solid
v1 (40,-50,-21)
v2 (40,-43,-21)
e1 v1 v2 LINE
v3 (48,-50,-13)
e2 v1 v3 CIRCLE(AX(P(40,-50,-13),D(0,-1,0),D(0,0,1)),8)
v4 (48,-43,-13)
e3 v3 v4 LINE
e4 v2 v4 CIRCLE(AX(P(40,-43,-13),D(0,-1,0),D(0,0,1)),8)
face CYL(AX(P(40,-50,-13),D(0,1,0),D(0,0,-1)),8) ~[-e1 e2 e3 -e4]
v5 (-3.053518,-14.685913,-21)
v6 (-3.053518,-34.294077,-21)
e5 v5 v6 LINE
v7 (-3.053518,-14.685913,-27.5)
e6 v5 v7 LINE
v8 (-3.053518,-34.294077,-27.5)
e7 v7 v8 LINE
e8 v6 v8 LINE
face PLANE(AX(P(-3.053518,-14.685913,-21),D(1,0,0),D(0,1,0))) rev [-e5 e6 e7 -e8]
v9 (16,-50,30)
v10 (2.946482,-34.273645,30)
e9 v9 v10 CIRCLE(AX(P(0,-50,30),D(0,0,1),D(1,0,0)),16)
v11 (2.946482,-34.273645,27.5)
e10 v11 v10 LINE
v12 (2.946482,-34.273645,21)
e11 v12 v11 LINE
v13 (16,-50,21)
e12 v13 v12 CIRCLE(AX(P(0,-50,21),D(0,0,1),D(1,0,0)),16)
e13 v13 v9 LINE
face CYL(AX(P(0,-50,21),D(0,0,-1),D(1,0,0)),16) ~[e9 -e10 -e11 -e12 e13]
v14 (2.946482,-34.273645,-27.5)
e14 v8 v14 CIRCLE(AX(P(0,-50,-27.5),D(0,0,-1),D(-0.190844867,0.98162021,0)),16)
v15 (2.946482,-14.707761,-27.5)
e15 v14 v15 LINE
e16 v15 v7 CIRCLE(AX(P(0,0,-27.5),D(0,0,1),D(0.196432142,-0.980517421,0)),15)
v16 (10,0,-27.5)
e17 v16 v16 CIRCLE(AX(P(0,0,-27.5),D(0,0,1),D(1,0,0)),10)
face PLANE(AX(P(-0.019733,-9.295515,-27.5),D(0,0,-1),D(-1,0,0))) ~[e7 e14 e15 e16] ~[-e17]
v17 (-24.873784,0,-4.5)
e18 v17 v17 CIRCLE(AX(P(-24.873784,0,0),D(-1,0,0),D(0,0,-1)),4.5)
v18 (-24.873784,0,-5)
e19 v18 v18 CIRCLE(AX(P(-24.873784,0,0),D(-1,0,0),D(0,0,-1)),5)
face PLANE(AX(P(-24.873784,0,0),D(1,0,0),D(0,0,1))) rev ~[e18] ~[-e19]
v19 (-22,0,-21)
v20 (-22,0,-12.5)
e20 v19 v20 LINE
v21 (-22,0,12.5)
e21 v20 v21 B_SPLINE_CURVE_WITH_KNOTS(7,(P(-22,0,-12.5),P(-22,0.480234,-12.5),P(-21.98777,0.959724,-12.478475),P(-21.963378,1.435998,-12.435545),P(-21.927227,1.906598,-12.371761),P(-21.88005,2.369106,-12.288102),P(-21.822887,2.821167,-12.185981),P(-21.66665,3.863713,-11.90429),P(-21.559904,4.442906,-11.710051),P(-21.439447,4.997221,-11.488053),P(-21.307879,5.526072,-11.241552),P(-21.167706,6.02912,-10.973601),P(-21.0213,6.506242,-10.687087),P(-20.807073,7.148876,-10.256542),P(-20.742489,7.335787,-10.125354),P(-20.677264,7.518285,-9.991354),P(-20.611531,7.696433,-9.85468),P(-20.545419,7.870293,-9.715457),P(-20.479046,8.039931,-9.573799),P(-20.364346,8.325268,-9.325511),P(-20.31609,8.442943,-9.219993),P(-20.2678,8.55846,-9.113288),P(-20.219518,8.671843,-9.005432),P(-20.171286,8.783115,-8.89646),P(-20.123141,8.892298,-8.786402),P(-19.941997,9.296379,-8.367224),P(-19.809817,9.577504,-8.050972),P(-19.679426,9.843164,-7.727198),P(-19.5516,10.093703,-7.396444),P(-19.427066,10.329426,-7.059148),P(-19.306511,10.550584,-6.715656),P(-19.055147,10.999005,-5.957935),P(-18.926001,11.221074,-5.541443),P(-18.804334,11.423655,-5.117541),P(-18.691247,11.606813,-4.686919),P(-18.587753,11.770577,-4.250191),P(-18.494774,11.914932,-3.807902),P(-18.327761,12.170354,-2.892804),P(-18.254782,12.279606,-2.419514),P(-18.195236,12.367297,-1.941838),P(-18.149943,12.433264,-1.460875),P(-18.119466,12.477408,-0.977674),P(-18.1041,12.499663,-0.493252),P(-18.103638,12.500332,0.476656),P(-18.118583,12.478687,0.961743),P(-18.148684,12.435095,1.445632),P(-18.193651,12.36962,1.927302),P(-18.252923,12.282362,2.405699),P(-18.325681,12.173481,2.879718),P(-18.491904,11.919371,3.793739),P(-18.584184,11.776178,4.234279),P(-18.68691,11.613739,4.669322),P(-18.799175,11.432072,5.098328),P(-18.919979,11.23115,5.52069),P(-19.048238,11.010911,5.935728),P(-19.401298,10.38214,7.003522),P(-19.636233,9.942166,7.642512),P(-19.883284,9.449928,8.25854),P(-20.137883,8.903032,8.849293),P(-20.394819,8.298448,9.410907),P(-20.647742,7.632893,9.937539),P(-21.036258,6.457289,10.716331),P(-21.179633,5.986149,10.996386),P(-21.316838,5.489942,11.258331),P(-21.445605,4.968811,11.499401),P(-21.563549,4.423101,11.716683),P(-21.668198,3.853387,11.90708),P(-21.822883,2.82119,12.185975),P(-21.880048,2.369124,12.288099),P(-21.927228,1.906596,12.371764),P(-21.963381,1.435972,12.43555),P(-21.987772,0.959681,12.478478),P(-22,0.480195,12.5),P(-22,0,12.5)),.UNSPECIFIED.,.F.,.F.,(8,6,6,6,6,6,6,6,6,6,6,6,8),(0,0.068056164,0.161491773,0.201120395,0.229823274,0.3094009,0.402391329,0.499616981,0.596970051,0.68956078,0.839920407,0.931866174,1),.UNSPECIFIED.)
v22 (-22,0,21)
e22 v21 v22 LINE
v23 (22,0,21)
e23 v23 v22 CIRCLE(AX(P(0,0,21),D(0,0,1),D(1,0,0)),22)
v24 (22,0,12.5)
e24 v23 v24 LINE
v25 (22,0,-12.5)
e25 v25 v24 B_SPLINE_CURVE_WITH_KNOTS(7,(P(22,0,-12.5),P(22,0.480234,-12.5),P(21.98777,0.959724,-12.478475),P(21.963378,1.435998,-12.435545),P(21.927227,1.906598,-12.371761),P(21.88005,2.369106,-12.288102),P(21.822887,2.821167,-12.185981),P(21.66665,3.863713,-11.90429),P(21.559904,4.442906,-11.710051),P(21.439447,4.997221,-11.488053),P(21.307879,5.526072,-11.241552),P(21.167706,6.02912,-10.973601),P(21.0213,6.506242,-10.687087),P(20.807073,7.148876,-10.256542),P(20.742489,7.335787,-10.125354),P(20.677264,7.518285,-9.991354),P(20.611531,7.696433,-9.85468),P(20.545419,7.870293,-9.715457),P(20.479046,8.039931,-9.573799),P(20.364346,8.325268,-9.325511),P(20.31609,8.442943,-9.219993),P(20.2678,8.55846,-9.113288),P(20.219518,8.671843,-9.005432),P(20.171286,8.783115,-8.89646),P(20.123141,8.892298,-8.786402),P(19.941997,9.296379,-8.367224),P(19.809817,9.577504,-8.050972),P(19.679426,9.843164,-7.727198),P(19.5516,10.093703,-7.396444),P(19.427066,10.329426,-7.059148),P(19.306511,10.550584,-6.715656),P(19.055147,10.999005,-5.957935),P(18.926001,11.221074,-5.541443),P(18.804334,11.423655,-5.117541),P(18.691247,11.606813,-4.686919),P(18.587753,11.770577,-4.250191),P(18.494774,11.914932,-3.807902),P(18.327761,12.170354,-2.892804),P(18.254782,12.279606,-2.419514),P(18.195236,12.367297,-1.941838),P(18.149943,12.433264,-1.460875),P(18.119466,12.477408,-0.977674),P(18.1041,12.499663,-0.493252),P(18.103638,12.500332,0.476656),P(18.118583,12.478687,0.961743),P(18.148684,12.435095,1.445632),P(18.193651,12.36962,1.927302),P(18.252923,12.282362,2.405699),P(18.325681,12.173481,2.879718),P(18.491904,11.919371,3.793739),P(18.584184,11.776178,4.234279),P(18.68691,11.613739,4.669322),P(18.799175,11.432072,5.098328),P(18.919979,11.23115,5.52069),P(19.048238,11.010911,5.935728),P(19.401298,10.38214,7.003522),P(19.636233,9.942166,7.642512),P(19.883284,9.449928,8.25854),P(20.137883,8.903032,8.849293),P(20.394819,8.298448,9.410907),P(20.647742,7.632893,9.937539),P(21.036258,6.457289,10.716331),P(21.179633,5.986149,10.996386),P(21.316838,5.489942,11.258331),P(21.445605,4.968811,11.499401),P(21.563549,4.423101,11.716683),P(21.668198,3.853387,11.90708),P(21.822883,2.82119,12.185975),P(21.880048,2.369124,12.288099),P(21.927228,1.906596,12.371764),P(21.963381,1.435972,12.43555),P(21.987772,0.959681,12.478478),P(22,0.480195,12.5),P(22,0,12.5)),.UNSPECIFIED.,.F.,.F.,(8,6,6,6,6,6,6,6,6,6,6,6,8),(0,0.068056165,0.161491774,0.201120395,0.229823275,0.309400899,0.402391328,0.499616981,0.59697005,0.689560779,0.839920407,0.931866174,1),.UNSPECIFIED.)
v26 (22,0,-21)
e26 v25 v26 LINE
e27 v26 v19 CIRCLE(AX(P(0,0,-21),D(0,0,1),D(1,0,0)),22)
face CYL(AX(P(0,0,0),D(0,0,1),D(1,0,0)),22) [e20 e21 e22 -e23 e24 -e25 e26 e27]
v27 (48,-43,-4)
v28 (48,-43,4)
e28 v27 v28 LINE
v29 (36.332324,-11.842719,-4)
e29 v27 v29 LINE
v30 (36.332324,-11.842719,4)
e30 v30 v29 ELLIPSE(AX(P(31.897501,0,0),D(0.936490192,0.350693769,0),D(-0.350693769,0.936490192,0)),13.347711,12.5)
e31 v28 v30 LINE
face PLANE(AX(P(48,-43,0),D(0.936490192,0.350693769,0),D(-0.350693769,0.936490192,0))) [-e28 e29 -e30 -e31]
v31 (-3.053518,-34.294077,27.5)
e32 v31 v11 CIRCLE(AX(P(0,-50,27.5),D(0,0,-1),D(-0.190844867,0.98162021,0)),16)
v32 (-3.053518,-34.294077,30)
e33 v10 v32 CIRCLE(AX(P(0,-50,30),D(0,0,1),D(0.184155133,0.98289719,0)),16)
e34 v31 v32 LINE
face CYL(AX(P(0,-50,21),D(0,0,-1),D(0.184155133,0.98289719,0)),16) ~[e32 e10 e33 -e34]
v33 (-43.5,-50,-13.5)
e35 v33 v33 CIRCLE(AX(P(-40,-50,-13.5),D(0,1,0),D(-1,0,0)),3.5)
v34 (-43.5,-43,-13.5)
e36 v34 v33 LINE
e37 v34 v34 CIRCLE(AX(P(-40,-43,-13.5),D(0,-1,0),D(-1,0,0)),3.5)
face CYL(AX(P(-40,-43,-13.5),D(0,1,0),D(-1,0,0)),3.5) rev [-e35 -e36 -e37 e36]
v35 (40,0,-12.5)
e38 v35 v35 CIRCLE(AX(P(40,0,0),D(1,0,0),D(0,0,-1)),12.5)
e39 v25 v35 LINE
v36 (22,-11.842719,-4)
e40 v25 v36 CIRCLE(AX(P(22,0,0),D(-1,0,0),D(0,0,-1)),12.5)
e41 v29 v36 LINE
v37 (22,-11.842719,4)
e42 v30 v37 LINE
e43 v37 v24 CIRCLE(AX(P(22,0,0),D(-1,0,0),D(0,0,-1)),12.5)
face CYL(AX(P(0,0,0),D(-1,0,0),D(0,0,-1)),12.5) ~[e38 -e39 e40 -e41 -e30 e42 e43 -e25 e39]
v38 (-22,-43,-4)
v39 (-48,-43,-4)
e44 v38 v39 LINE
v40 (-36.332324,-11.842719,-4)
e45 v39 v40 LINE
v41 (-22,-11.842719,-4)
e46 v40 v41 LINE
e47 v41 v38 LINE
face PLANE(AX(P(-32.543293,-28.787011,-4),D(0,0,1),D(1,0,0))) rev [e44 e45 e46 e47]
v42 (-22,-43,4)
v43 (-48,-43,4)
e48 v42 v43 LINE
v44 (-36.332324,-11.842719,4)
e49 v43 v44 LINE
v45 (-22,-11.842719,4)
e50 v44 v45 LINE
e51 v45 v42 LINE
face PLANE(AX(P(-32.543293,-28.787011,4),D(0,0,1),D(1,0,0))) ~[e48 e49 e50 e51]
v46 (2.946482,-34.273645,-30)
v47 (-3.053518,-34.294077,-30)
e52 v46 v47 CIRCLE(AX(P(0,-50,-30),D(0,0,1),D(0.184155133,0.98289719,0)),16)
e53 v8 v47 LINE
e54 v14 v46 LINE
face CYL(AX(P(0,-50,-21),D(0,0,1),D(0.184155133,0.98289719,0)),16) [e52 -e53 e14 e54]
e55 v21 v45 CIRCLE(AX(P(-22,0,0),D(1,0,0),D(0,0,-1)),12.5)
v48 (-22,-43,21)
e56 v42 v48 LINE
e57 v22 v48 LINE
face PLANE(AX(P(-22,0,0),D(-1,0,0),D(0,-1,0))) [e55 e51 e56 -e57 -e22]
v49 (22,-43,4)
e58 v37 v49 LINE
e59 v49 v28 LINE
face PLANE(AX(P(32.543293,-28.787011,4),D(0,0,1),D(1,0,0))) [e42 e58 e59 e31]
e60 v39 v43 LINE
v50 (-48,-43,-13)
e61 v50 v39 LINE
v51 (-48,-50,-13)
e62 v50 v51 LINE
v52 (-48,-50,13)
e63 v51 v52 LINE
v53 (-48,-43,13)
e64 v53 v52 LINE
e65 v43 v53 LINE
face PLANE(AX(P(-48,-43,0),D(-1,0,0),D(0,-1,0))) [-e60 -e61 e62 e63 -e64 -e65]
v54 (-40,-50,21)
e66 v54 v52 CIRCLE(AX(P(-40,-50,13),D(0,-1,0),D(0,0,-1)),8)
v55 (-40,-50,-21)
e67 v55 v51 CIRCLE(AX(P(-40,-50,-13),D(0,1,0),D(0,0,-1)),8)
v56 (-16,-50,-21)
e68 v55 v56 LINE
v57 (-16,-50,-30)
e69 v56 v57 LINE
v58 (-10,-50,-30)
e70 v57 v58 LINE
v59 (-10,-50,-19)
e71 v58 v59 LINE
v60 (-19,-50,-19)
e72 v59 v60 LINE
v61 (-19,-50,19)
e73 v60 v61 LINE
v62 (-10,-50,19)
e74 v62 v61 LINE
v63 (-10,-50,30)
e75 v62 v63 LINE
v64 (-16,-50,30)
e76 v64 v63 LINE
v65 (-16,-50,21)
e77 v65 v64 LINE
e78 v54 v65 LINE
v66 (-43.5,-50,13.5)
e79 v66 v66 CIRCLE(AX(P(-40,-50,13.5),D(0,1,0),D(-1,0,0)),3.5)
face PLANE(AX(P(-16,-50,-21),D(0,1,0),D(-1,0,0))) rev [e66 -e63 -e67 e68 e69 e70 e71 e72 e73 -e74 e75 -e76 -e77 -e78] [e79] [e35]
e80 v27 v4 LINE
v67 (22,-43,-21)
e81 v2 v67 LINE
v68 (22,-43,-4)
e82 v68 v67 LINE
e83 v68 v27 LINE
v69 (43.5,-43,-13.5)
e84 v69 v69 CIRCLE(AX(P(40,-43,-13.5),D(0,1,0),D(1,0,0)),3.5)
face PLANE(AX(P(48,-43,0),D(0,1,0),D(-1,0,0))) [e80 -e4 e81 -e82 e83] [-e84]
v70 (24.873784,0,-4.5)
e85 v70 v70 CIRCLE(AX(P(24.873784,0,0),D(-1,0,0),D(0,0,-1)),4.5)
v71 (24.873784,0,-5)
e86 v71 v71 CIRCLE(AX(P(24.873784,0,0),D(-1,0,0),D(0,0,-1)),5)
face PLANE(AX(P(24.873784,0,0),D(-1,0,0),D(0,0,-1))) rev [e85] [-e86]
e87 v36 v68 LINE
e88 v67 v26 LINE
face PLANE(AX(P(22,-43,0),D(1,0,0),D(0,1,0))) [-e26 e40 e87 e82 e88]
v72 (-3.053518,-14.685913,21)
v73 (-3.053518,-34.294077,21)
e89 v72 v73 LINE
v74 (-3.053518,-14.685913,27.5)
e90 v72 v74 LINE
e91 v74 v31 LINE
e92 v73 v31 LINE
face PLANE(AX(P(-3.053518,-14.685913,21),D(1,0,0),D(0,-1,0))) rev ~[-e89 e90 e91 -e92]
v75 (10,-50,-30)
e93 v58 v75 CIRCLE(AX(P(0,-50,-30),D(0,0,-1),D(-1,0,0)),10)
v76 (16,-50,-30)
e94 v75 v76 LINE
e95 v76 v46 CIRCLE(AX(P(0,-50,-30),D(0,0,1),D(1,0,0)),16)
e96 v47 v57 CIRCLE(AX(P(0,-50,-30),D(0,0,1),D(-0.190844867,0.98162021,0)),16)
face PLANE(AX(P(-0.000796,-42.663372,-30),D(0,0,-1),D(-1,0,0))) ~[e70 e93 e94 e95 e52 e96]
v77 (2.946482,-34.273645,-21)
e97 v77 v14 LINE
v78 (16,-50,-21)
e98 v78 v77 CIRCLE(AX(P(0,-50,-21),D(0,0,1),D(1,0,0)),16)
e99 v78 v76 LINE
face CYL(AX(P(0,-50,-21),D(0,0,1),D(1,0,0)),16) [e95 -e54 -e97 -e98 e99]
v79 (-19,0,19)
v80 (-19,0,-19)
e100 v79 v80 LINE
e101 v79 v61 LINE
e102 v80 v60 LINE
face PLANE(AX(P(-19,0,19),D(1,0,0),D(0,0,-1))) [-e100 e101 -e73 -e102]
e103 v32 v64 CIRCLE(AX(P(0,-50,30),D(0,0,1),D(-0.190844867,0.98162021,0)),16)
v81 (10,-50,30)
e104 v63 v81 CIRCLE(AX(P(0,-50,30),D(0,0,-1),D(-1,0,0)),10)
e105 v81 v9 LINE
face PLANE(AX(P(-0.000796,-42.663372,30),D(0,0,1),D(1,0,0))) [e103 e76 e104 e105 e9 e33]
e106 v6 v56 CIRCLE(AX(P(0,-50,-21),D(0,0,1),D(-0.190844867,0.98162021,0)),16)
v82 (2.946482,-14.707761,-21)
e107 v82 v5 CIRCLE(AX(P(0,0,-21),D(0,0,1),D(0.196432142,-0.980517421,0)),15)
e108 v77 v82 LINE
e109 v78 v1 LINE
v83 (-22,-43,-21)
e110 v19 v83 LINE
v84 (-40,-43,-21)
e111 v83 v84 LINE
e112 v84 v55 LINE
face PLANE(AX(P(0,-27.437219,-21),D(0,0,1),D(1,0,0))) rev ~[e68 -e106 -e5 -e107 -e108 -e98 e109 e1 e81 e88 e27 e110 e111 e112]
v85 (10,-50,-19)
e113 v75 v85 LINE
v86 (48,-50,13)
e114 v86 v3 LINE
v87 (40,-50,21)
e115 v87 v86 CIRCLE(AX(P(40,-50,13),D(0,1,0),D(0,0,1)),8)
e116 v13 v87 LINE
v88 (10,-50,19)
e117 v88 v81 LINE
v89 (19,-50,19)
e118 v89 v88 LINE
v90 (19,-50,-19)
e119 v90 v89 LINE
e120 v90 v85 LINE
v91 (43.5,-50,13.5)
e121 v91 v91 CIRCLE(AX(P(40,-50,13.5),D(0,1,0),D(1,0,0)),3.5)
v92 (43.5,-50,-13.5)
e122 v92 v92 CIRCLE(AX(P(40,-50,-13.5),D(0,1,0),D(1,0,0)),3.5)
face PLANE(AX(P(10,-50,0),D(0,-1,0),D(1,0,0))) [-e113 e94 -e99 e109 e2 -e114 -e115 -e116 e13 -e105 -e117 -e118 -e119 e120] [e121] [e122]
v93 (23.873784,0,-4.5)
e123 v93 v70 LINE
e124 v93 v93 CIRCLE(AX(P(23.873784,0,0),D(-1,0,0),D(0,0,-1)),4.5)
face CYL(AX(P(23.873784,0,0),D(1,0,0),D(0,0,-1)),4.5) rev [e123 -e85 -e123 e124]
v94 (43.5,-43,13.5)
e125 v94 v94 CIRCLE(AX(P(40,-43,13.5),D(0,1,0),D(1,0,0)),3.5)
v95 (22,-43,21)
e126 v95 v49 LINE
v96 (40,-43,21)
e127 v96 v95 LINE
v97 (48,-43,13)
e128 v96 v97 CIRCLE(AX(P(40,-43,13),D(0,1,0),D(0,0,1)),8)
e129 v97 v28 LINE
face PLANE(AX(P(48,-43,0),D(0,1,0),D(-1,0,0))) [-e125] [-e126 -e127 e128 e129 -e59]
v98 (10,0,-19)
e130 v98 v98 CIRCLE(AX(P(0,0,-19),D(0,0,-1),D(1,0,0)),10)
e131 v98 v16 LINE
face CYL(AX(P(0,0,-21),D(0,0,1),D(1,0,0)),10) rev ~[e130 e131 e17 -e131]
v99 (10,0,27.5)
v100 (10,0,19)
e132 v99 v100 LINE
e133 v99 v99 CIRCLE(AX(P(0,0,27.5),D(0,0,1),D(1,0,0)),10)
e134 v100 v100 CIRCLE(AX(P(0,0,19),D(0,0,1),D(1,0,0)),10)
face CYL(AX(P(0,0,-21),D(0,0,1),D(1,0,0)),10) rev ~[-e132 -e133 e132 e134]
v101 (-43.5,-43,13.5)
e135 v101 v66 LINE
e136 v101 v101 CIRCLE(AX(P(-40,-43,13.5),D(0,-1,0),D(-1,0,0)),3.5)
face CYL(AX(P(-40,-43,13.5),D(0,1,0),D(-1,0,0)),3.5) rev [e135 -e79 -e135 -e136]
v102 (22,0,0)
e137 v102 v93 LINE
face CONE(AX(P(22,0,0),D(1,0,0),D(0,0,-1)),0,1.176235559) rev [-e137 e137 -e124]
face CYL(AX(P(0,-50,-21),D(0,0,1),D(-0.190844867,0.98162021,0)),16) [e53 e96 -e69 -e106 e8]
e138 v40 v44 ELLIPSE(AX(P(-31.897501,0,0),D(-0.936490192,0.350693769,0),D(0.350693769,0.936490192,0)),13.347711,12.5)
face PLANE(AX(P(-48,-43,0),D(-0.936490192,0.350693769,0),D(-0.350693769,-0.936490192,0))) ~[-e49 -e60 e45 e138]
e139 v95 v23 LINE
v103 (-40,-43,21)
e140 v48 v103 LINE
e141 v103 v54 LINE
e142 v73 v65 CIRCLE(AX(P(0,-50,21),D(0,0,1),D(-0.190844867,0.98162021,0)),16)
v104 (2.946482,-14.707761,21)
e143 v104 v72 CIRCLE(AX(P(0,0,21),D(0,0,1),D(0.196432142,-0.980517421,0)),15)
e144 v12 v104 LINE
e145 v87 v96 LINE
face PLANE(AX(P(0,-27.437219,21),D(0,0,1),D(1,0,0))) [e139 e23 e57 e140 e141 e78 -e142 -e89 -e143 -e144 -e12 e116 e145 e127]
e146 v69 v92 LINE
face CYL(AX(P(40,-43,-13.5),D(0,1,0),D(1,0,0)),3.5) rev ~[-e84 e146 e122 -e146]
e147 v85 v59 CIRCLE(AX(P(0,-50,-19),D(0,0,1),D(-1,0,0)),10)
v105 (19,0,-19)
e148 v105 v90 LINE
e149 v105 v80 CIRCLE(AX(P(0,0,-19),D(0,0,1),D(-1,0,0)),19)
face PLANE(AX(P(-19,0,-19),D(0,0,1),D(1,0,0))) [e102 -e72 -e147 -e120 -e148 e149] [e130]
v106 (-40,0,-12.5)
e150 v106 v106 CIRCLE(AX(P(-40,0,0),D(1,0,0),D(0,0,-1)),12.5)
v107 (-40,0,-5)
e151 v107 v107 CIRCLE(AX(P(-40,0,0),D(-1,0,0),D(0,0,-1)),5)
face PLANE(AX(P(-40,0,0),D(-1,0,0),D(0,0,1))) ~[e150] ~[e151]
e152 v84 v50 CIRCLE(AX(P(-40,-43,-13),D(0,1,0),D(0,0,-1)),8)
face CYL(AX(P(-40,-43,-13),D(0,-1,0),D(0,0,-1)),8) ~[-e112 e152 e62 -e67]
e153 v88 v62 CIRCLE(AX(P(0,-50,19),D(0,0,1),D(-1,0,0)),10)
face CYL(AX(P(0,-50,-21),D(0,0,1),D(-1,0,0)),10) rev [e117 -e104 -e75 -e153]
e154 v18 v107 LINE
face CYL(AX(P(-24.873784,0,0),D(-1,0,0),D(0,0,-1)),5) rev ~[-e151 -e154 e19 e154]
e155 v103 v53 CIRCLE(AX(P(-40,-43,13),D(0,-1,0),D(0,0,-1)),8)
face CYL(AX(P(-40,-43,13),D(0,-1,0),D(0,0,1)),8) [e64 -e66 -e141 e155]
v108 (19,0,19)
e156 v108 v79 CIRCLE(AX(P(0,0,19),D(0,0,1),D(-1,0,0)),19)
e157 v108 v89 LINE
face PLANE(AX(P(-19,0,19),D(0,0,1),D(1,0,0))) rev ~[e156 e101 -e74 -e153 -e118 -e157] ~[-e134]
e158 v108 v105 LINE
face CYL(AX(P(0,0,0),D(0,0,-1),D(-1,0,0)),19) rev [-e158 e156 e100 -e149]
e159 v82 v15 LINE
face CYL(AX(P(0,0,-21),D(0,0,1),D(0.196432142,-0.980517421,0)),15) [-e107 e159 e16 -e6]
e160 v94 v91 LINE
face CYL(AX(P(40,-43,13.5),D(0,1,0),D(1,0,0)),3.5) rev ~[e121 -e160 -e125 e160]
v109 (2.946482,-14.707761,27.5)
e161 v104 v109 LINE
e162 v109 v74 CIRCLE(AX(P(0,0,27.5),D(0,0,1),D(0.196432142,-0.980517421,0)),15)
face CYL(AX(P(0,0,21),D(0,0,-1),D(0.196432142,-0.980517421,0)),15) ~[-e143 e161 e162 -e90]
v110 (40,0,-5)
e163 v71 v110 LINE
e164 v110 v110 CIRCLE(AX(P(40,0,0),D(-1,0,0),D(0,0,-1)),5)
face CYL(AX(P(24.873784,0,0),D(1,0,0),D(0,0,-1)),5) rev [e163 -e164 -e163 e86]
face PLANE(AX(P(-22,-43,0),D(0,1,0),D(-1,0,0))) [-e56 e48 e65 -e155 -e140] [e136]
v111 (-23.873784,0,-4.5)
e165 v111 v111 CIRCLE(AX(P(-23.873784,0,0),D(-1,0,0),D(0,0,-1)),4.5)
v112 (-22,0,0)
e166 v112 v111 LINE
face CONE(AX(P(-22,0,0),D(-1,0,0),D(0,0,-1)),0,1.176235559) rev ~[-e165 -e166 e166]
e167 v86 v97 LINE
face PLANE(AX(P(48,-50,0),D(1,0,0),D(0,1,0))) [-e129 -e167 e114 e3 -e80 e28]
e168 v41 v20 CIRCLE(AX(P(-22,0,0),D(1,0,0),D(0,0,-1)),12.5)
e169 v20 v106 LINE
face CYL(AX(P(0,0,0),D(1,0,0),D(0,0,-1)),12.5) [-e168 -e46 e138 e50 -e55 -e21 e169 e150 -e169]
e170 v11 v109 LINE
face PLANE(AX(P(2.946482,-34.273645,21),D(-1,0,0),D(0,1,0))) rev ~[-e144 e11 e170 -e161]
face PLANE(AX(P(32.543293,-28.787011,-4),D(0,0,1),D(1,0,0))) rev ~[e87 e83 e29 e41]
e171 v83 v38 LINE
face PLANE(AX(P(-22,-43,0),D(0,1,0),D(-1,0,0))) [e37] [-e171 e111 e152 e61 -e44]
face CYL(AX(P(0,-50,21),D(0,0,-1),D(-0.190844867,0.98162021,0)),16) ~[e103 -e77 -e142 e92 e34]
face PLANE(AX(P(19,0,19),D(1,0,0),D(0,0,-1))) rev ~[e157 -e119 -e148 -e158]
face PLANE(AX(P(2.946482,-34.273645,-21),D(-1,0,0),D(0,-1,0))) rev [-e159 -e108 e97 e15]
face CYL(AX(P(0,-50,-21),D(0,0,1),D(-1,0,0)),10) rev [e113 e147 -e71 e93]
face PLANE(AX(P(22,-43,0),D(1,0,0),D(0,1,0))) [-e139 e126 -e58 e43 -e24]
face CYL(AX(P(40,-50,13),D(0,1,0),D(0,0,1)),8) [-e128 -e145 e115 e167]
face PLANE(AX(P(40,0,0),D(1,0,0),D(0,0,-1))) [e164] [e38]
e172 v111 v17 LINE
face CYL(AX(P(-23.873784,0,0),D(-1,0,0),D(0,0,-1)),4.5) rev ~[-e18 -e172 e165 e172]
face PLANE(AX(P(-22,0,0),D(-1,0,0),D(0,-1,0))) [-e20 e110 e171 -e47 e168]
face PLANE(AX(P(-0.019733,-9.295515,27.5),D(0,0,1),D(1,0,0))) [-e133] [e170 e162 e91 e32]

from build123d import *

# Parameters (mm, degrees)
SKETCH1_R           = 15
SKETCH1_R_2         = 10
BOSS_EXTRUDE1_DEPTH = 21
SKETCH2_R           = 3.5
CUT_EXTRUDE1_DEPTH  = 60
FILLET1_R           = 8
SKETCH5_R           = 10
BOSS_EXTRUDE2_DEPTH = 6.5
BOSS_EXTRUDE3_DEPTH = 9
SKETCH6_R           = 12.5
BOSS_EXTRUDE4_DEPTH = 40
BOSS_EXTRUDE5_DEPTH = 4
SKETCH1_3_R         = 10
CUT_EXTRUDE2_DEPTH  = 21
SKETCH10_W          = 19
SKETCH10_H          = 38
SKETCH11_W          = 38
SKETCH11_H          = 38
CUT_EXTRUDE3_DEPTH  = 51


with BuildPart() as part:
    # Sketch1 → Boss-Extrude1 (new body, symmetric)
    with BuildSketch(Plane.XY):
        with BuildLine():
            ThreePointArc((22, 0), (0, 22), (-22, 0))
            Line((-22, 0), (-22, -43))
            Line((-22, -43), (-48, -43))
            Line((-48, -43), (-48, -50))
            Line((-48, -50), (-16, -50))
            ThreePointArc((-16, -50), (0, -34), (16, -50))
            Line((16, -50), (48, -50))
            Line((48, -50), (48, -43))
            Line((48, -43), (22, -43))
            Line((22, -43), (22, 0))
        make_face()
        Circle(SKETCH1_R, mode=Mode.SUBTRACT)
        with BuildLine():
            ThreePointArc((16, -50), (0, -34), (-16, -50))
            Line((-16, -50), (-10, -50))
            ThreePointArc((-10, -50), (0, -40), (10, -50))
            Line((10, -50), (16, -50))
        make_face()
        Circle(SKETCH1_R)
        Circle(SKETCH1_R_2, mode=Mode.SUBTRACT)
    extrude(amount=BOSS_EXTRUDE1_DEPTH, both=True)

    # Sketch2 → Cut-Extrude1 (cut)
    with BuildSketch(Plane(origin=(0, -43, 0), x_dir=(1, 0, 0), z_dir=(0, 1, 0))):
        with Locations((40, 13.5)):
            Circle(SKETCH2_R)
        with Locations((40, -13.5)):
            Circle(SKETCH2_R)
    cut_extrude1 = extrude(amount=-CUT_EXTRUDE1_DEPTH, mode=Mode.SUBTRACT)

    # Mirror1: Cut-Extrude1 across plane
    add(cut_extrude1.mirror(Plane(origin=(0, 0, 0), x_dir=(0, 0, 1), z_dir=(1, 0, 0))), mode=Mode.SUBTRACT)

    # Fillet1
    fillet1_edges = [part.edges().sort_by_distance(p)[0] for p in [
        (-48, -46.5, -21),
        (48, -46.5, -21),
        (48, -46.5, 21),
        (-48, -46.5, 21),
    ]]
    fillet(fillet1_edges, radius=FILLET1_R)

    # Sketch5 → Boss-Extrude2 (add)
    with BuildSketch(Plane.XY.offset(21)):
        with BuildLine():
            Line((-3.053517872, -14.68591259), (-3.053517872, -34.294076639))
            ThreePointArc((-3.053517872, -34.294076639), (-0.054484182, -34.000092767), (2.946482128, -34.273644953))
            Line((2.946482128, -34.273644953), (2.946482128, -14.707761321))
            ThreePointArc((2.946482128, -14.707761321), (0.054621464, 14.99990055), (-3.053517872, -14.68591259))
        make_face()
        Circle(SKETCH5_R, mode=Mode.SUBTRACT)
    boss_extrude2 = extrude(amount=BOSS_EXTRUDE2_DEPTH)

    # Sketch5<3> → Boss-Extrude3 (add)
    with BuildSketch(Plane.XY.offset(21)):
        with BuildLine():
            ThreePointArc((-3.053517872, -34.294076639), (-12.346179286, -39.822974058), (-16, -50))
            Line((-16, -50), (-10, -50))
            ThreePointArc((-10, -50), (0, -40), (10, -50))
            Line((10, -50), (16, -50))
            ThreePointArc((16, -50), (12.311452271, -39.780991096), (2.946482128, -34.273644953))
            ThreePointArc((2.946482128, -34.273644953), (-0.054484182, -34.000092767), (-3.053517872, -34.294076639))
        make_face()
    boss_extrude3 = extrude(amount=BOSS_EXTRUDE3_DEPTH)

    # Mirror2: Boss-Extrude2, Boss-Extrude3 across plane
    add(boss_extrude2.mirror(Plane.XY))
    add(boss_extrude3.mirror(Plane.XY))

    # Sketch6 → Boss-Extrude4 (add)
    with BuildSketch(Plane(origin=(0, 0, 0), x_dir=(0, 0, -1), z_dir=(1, 0, 0))):
        Circle(SKETCH6_R)
    boss_extrude4 = extrude(amount=BOSS_EXTRUDE4_DEPTH)

    # Sketch7 → Boss-Extrude5 (add, symmetric)
    with BuildSketch(Plane.XY):
        Polygon((22, -43), (48, -43), (36, -10.955283754), (22, -10.955283754), align=None)
    boss_extrude5 = extrude(amount=BOSS_EXTRUDE5_DEPTH, both=True)

    # Sketch1<3> → Cut-Extrude2 (cut, symmetric)
    with BuildSketch(Plane.XY):
        Circle(SKETCH1_3_R)
    cut_extrude2 = extrude(amount=CUT_EXTRUDE2_DEPTH, both=True, mode=Mode.SUBTRACT)

    # Sketch8 → Cut-Revolve1 (revolve, cut)
    with BuildSketch(Plane(origin=(0, 0, 0), x_dir=(1, 0, 0), z_dir=(0, 1, 0))):
        Polygon((40, 0), (22, 0), (23.87378357, 4.5), (24.87378357, 4.5), (24.87378357, 5), (40, 5), align=None)
    cut_revolve1 = revolve(axis=Axis((40, 0, 0), (-1, 0, 0)), mode=Mode.SUBTRACT)

    # Mirror4: Boss-Extrude4, Boss-Extrude5, Cut-Extrude2, Cut-Revolve1 across plane
    add(boss_extrude4.mirror(Plane(origin=(0, 0, 0), x_dir=(0, 0, 1), z_dir=(1, 0, 0))))
    add(boss_extrude5.mirror(Plane(origin=(0, 0, 0), x_dir=(0, 0, 1), z_dir=(1, 0, 0))))
    add(cut_extrude2.mirror(Plane(origin=(0, 0, 0), x_dir=(0, 0, 1), z_dir=(1, 0, 0))), mode=Mode.SUBTRACT)
    add(cut_revolve1.mirror(Plane(origin=(0, 0, 0), x_dir=(0, 0, 1), z_dir=(1, 0, 0))), mode=Mode.SUBTRACT)

    # Sketch10 → Cut-Revolve2 (revolve, cut)
    with BuildSketch(Plane(origin=(0, 0, 0), x_dir=(1, 0, 0), z_dir=(0, 1, 0))):
        with Locations((-9.5, 0)):
            Rectangle(SKETCH10_W, SKETCH10_H)
    revolve(axis=Axis((0, 0, -19), (0, 0, 1)), mode=Mode.SUBTRACT)

    # Sketch11 → Cut-Extrude3 (cut, through all)
    with BuildSketch(Plane(origin=(0, 0, 0), x_dir=(1, 0, 0), z_dir=(0, 1, 0))):
        Rectangle(SKETCH11_W, SKETCH11_H)
    extrude(amount=-CUT_EXTRUDE3_DEPTH, mode=Mode.SUBTRACT)


solid = part.part
